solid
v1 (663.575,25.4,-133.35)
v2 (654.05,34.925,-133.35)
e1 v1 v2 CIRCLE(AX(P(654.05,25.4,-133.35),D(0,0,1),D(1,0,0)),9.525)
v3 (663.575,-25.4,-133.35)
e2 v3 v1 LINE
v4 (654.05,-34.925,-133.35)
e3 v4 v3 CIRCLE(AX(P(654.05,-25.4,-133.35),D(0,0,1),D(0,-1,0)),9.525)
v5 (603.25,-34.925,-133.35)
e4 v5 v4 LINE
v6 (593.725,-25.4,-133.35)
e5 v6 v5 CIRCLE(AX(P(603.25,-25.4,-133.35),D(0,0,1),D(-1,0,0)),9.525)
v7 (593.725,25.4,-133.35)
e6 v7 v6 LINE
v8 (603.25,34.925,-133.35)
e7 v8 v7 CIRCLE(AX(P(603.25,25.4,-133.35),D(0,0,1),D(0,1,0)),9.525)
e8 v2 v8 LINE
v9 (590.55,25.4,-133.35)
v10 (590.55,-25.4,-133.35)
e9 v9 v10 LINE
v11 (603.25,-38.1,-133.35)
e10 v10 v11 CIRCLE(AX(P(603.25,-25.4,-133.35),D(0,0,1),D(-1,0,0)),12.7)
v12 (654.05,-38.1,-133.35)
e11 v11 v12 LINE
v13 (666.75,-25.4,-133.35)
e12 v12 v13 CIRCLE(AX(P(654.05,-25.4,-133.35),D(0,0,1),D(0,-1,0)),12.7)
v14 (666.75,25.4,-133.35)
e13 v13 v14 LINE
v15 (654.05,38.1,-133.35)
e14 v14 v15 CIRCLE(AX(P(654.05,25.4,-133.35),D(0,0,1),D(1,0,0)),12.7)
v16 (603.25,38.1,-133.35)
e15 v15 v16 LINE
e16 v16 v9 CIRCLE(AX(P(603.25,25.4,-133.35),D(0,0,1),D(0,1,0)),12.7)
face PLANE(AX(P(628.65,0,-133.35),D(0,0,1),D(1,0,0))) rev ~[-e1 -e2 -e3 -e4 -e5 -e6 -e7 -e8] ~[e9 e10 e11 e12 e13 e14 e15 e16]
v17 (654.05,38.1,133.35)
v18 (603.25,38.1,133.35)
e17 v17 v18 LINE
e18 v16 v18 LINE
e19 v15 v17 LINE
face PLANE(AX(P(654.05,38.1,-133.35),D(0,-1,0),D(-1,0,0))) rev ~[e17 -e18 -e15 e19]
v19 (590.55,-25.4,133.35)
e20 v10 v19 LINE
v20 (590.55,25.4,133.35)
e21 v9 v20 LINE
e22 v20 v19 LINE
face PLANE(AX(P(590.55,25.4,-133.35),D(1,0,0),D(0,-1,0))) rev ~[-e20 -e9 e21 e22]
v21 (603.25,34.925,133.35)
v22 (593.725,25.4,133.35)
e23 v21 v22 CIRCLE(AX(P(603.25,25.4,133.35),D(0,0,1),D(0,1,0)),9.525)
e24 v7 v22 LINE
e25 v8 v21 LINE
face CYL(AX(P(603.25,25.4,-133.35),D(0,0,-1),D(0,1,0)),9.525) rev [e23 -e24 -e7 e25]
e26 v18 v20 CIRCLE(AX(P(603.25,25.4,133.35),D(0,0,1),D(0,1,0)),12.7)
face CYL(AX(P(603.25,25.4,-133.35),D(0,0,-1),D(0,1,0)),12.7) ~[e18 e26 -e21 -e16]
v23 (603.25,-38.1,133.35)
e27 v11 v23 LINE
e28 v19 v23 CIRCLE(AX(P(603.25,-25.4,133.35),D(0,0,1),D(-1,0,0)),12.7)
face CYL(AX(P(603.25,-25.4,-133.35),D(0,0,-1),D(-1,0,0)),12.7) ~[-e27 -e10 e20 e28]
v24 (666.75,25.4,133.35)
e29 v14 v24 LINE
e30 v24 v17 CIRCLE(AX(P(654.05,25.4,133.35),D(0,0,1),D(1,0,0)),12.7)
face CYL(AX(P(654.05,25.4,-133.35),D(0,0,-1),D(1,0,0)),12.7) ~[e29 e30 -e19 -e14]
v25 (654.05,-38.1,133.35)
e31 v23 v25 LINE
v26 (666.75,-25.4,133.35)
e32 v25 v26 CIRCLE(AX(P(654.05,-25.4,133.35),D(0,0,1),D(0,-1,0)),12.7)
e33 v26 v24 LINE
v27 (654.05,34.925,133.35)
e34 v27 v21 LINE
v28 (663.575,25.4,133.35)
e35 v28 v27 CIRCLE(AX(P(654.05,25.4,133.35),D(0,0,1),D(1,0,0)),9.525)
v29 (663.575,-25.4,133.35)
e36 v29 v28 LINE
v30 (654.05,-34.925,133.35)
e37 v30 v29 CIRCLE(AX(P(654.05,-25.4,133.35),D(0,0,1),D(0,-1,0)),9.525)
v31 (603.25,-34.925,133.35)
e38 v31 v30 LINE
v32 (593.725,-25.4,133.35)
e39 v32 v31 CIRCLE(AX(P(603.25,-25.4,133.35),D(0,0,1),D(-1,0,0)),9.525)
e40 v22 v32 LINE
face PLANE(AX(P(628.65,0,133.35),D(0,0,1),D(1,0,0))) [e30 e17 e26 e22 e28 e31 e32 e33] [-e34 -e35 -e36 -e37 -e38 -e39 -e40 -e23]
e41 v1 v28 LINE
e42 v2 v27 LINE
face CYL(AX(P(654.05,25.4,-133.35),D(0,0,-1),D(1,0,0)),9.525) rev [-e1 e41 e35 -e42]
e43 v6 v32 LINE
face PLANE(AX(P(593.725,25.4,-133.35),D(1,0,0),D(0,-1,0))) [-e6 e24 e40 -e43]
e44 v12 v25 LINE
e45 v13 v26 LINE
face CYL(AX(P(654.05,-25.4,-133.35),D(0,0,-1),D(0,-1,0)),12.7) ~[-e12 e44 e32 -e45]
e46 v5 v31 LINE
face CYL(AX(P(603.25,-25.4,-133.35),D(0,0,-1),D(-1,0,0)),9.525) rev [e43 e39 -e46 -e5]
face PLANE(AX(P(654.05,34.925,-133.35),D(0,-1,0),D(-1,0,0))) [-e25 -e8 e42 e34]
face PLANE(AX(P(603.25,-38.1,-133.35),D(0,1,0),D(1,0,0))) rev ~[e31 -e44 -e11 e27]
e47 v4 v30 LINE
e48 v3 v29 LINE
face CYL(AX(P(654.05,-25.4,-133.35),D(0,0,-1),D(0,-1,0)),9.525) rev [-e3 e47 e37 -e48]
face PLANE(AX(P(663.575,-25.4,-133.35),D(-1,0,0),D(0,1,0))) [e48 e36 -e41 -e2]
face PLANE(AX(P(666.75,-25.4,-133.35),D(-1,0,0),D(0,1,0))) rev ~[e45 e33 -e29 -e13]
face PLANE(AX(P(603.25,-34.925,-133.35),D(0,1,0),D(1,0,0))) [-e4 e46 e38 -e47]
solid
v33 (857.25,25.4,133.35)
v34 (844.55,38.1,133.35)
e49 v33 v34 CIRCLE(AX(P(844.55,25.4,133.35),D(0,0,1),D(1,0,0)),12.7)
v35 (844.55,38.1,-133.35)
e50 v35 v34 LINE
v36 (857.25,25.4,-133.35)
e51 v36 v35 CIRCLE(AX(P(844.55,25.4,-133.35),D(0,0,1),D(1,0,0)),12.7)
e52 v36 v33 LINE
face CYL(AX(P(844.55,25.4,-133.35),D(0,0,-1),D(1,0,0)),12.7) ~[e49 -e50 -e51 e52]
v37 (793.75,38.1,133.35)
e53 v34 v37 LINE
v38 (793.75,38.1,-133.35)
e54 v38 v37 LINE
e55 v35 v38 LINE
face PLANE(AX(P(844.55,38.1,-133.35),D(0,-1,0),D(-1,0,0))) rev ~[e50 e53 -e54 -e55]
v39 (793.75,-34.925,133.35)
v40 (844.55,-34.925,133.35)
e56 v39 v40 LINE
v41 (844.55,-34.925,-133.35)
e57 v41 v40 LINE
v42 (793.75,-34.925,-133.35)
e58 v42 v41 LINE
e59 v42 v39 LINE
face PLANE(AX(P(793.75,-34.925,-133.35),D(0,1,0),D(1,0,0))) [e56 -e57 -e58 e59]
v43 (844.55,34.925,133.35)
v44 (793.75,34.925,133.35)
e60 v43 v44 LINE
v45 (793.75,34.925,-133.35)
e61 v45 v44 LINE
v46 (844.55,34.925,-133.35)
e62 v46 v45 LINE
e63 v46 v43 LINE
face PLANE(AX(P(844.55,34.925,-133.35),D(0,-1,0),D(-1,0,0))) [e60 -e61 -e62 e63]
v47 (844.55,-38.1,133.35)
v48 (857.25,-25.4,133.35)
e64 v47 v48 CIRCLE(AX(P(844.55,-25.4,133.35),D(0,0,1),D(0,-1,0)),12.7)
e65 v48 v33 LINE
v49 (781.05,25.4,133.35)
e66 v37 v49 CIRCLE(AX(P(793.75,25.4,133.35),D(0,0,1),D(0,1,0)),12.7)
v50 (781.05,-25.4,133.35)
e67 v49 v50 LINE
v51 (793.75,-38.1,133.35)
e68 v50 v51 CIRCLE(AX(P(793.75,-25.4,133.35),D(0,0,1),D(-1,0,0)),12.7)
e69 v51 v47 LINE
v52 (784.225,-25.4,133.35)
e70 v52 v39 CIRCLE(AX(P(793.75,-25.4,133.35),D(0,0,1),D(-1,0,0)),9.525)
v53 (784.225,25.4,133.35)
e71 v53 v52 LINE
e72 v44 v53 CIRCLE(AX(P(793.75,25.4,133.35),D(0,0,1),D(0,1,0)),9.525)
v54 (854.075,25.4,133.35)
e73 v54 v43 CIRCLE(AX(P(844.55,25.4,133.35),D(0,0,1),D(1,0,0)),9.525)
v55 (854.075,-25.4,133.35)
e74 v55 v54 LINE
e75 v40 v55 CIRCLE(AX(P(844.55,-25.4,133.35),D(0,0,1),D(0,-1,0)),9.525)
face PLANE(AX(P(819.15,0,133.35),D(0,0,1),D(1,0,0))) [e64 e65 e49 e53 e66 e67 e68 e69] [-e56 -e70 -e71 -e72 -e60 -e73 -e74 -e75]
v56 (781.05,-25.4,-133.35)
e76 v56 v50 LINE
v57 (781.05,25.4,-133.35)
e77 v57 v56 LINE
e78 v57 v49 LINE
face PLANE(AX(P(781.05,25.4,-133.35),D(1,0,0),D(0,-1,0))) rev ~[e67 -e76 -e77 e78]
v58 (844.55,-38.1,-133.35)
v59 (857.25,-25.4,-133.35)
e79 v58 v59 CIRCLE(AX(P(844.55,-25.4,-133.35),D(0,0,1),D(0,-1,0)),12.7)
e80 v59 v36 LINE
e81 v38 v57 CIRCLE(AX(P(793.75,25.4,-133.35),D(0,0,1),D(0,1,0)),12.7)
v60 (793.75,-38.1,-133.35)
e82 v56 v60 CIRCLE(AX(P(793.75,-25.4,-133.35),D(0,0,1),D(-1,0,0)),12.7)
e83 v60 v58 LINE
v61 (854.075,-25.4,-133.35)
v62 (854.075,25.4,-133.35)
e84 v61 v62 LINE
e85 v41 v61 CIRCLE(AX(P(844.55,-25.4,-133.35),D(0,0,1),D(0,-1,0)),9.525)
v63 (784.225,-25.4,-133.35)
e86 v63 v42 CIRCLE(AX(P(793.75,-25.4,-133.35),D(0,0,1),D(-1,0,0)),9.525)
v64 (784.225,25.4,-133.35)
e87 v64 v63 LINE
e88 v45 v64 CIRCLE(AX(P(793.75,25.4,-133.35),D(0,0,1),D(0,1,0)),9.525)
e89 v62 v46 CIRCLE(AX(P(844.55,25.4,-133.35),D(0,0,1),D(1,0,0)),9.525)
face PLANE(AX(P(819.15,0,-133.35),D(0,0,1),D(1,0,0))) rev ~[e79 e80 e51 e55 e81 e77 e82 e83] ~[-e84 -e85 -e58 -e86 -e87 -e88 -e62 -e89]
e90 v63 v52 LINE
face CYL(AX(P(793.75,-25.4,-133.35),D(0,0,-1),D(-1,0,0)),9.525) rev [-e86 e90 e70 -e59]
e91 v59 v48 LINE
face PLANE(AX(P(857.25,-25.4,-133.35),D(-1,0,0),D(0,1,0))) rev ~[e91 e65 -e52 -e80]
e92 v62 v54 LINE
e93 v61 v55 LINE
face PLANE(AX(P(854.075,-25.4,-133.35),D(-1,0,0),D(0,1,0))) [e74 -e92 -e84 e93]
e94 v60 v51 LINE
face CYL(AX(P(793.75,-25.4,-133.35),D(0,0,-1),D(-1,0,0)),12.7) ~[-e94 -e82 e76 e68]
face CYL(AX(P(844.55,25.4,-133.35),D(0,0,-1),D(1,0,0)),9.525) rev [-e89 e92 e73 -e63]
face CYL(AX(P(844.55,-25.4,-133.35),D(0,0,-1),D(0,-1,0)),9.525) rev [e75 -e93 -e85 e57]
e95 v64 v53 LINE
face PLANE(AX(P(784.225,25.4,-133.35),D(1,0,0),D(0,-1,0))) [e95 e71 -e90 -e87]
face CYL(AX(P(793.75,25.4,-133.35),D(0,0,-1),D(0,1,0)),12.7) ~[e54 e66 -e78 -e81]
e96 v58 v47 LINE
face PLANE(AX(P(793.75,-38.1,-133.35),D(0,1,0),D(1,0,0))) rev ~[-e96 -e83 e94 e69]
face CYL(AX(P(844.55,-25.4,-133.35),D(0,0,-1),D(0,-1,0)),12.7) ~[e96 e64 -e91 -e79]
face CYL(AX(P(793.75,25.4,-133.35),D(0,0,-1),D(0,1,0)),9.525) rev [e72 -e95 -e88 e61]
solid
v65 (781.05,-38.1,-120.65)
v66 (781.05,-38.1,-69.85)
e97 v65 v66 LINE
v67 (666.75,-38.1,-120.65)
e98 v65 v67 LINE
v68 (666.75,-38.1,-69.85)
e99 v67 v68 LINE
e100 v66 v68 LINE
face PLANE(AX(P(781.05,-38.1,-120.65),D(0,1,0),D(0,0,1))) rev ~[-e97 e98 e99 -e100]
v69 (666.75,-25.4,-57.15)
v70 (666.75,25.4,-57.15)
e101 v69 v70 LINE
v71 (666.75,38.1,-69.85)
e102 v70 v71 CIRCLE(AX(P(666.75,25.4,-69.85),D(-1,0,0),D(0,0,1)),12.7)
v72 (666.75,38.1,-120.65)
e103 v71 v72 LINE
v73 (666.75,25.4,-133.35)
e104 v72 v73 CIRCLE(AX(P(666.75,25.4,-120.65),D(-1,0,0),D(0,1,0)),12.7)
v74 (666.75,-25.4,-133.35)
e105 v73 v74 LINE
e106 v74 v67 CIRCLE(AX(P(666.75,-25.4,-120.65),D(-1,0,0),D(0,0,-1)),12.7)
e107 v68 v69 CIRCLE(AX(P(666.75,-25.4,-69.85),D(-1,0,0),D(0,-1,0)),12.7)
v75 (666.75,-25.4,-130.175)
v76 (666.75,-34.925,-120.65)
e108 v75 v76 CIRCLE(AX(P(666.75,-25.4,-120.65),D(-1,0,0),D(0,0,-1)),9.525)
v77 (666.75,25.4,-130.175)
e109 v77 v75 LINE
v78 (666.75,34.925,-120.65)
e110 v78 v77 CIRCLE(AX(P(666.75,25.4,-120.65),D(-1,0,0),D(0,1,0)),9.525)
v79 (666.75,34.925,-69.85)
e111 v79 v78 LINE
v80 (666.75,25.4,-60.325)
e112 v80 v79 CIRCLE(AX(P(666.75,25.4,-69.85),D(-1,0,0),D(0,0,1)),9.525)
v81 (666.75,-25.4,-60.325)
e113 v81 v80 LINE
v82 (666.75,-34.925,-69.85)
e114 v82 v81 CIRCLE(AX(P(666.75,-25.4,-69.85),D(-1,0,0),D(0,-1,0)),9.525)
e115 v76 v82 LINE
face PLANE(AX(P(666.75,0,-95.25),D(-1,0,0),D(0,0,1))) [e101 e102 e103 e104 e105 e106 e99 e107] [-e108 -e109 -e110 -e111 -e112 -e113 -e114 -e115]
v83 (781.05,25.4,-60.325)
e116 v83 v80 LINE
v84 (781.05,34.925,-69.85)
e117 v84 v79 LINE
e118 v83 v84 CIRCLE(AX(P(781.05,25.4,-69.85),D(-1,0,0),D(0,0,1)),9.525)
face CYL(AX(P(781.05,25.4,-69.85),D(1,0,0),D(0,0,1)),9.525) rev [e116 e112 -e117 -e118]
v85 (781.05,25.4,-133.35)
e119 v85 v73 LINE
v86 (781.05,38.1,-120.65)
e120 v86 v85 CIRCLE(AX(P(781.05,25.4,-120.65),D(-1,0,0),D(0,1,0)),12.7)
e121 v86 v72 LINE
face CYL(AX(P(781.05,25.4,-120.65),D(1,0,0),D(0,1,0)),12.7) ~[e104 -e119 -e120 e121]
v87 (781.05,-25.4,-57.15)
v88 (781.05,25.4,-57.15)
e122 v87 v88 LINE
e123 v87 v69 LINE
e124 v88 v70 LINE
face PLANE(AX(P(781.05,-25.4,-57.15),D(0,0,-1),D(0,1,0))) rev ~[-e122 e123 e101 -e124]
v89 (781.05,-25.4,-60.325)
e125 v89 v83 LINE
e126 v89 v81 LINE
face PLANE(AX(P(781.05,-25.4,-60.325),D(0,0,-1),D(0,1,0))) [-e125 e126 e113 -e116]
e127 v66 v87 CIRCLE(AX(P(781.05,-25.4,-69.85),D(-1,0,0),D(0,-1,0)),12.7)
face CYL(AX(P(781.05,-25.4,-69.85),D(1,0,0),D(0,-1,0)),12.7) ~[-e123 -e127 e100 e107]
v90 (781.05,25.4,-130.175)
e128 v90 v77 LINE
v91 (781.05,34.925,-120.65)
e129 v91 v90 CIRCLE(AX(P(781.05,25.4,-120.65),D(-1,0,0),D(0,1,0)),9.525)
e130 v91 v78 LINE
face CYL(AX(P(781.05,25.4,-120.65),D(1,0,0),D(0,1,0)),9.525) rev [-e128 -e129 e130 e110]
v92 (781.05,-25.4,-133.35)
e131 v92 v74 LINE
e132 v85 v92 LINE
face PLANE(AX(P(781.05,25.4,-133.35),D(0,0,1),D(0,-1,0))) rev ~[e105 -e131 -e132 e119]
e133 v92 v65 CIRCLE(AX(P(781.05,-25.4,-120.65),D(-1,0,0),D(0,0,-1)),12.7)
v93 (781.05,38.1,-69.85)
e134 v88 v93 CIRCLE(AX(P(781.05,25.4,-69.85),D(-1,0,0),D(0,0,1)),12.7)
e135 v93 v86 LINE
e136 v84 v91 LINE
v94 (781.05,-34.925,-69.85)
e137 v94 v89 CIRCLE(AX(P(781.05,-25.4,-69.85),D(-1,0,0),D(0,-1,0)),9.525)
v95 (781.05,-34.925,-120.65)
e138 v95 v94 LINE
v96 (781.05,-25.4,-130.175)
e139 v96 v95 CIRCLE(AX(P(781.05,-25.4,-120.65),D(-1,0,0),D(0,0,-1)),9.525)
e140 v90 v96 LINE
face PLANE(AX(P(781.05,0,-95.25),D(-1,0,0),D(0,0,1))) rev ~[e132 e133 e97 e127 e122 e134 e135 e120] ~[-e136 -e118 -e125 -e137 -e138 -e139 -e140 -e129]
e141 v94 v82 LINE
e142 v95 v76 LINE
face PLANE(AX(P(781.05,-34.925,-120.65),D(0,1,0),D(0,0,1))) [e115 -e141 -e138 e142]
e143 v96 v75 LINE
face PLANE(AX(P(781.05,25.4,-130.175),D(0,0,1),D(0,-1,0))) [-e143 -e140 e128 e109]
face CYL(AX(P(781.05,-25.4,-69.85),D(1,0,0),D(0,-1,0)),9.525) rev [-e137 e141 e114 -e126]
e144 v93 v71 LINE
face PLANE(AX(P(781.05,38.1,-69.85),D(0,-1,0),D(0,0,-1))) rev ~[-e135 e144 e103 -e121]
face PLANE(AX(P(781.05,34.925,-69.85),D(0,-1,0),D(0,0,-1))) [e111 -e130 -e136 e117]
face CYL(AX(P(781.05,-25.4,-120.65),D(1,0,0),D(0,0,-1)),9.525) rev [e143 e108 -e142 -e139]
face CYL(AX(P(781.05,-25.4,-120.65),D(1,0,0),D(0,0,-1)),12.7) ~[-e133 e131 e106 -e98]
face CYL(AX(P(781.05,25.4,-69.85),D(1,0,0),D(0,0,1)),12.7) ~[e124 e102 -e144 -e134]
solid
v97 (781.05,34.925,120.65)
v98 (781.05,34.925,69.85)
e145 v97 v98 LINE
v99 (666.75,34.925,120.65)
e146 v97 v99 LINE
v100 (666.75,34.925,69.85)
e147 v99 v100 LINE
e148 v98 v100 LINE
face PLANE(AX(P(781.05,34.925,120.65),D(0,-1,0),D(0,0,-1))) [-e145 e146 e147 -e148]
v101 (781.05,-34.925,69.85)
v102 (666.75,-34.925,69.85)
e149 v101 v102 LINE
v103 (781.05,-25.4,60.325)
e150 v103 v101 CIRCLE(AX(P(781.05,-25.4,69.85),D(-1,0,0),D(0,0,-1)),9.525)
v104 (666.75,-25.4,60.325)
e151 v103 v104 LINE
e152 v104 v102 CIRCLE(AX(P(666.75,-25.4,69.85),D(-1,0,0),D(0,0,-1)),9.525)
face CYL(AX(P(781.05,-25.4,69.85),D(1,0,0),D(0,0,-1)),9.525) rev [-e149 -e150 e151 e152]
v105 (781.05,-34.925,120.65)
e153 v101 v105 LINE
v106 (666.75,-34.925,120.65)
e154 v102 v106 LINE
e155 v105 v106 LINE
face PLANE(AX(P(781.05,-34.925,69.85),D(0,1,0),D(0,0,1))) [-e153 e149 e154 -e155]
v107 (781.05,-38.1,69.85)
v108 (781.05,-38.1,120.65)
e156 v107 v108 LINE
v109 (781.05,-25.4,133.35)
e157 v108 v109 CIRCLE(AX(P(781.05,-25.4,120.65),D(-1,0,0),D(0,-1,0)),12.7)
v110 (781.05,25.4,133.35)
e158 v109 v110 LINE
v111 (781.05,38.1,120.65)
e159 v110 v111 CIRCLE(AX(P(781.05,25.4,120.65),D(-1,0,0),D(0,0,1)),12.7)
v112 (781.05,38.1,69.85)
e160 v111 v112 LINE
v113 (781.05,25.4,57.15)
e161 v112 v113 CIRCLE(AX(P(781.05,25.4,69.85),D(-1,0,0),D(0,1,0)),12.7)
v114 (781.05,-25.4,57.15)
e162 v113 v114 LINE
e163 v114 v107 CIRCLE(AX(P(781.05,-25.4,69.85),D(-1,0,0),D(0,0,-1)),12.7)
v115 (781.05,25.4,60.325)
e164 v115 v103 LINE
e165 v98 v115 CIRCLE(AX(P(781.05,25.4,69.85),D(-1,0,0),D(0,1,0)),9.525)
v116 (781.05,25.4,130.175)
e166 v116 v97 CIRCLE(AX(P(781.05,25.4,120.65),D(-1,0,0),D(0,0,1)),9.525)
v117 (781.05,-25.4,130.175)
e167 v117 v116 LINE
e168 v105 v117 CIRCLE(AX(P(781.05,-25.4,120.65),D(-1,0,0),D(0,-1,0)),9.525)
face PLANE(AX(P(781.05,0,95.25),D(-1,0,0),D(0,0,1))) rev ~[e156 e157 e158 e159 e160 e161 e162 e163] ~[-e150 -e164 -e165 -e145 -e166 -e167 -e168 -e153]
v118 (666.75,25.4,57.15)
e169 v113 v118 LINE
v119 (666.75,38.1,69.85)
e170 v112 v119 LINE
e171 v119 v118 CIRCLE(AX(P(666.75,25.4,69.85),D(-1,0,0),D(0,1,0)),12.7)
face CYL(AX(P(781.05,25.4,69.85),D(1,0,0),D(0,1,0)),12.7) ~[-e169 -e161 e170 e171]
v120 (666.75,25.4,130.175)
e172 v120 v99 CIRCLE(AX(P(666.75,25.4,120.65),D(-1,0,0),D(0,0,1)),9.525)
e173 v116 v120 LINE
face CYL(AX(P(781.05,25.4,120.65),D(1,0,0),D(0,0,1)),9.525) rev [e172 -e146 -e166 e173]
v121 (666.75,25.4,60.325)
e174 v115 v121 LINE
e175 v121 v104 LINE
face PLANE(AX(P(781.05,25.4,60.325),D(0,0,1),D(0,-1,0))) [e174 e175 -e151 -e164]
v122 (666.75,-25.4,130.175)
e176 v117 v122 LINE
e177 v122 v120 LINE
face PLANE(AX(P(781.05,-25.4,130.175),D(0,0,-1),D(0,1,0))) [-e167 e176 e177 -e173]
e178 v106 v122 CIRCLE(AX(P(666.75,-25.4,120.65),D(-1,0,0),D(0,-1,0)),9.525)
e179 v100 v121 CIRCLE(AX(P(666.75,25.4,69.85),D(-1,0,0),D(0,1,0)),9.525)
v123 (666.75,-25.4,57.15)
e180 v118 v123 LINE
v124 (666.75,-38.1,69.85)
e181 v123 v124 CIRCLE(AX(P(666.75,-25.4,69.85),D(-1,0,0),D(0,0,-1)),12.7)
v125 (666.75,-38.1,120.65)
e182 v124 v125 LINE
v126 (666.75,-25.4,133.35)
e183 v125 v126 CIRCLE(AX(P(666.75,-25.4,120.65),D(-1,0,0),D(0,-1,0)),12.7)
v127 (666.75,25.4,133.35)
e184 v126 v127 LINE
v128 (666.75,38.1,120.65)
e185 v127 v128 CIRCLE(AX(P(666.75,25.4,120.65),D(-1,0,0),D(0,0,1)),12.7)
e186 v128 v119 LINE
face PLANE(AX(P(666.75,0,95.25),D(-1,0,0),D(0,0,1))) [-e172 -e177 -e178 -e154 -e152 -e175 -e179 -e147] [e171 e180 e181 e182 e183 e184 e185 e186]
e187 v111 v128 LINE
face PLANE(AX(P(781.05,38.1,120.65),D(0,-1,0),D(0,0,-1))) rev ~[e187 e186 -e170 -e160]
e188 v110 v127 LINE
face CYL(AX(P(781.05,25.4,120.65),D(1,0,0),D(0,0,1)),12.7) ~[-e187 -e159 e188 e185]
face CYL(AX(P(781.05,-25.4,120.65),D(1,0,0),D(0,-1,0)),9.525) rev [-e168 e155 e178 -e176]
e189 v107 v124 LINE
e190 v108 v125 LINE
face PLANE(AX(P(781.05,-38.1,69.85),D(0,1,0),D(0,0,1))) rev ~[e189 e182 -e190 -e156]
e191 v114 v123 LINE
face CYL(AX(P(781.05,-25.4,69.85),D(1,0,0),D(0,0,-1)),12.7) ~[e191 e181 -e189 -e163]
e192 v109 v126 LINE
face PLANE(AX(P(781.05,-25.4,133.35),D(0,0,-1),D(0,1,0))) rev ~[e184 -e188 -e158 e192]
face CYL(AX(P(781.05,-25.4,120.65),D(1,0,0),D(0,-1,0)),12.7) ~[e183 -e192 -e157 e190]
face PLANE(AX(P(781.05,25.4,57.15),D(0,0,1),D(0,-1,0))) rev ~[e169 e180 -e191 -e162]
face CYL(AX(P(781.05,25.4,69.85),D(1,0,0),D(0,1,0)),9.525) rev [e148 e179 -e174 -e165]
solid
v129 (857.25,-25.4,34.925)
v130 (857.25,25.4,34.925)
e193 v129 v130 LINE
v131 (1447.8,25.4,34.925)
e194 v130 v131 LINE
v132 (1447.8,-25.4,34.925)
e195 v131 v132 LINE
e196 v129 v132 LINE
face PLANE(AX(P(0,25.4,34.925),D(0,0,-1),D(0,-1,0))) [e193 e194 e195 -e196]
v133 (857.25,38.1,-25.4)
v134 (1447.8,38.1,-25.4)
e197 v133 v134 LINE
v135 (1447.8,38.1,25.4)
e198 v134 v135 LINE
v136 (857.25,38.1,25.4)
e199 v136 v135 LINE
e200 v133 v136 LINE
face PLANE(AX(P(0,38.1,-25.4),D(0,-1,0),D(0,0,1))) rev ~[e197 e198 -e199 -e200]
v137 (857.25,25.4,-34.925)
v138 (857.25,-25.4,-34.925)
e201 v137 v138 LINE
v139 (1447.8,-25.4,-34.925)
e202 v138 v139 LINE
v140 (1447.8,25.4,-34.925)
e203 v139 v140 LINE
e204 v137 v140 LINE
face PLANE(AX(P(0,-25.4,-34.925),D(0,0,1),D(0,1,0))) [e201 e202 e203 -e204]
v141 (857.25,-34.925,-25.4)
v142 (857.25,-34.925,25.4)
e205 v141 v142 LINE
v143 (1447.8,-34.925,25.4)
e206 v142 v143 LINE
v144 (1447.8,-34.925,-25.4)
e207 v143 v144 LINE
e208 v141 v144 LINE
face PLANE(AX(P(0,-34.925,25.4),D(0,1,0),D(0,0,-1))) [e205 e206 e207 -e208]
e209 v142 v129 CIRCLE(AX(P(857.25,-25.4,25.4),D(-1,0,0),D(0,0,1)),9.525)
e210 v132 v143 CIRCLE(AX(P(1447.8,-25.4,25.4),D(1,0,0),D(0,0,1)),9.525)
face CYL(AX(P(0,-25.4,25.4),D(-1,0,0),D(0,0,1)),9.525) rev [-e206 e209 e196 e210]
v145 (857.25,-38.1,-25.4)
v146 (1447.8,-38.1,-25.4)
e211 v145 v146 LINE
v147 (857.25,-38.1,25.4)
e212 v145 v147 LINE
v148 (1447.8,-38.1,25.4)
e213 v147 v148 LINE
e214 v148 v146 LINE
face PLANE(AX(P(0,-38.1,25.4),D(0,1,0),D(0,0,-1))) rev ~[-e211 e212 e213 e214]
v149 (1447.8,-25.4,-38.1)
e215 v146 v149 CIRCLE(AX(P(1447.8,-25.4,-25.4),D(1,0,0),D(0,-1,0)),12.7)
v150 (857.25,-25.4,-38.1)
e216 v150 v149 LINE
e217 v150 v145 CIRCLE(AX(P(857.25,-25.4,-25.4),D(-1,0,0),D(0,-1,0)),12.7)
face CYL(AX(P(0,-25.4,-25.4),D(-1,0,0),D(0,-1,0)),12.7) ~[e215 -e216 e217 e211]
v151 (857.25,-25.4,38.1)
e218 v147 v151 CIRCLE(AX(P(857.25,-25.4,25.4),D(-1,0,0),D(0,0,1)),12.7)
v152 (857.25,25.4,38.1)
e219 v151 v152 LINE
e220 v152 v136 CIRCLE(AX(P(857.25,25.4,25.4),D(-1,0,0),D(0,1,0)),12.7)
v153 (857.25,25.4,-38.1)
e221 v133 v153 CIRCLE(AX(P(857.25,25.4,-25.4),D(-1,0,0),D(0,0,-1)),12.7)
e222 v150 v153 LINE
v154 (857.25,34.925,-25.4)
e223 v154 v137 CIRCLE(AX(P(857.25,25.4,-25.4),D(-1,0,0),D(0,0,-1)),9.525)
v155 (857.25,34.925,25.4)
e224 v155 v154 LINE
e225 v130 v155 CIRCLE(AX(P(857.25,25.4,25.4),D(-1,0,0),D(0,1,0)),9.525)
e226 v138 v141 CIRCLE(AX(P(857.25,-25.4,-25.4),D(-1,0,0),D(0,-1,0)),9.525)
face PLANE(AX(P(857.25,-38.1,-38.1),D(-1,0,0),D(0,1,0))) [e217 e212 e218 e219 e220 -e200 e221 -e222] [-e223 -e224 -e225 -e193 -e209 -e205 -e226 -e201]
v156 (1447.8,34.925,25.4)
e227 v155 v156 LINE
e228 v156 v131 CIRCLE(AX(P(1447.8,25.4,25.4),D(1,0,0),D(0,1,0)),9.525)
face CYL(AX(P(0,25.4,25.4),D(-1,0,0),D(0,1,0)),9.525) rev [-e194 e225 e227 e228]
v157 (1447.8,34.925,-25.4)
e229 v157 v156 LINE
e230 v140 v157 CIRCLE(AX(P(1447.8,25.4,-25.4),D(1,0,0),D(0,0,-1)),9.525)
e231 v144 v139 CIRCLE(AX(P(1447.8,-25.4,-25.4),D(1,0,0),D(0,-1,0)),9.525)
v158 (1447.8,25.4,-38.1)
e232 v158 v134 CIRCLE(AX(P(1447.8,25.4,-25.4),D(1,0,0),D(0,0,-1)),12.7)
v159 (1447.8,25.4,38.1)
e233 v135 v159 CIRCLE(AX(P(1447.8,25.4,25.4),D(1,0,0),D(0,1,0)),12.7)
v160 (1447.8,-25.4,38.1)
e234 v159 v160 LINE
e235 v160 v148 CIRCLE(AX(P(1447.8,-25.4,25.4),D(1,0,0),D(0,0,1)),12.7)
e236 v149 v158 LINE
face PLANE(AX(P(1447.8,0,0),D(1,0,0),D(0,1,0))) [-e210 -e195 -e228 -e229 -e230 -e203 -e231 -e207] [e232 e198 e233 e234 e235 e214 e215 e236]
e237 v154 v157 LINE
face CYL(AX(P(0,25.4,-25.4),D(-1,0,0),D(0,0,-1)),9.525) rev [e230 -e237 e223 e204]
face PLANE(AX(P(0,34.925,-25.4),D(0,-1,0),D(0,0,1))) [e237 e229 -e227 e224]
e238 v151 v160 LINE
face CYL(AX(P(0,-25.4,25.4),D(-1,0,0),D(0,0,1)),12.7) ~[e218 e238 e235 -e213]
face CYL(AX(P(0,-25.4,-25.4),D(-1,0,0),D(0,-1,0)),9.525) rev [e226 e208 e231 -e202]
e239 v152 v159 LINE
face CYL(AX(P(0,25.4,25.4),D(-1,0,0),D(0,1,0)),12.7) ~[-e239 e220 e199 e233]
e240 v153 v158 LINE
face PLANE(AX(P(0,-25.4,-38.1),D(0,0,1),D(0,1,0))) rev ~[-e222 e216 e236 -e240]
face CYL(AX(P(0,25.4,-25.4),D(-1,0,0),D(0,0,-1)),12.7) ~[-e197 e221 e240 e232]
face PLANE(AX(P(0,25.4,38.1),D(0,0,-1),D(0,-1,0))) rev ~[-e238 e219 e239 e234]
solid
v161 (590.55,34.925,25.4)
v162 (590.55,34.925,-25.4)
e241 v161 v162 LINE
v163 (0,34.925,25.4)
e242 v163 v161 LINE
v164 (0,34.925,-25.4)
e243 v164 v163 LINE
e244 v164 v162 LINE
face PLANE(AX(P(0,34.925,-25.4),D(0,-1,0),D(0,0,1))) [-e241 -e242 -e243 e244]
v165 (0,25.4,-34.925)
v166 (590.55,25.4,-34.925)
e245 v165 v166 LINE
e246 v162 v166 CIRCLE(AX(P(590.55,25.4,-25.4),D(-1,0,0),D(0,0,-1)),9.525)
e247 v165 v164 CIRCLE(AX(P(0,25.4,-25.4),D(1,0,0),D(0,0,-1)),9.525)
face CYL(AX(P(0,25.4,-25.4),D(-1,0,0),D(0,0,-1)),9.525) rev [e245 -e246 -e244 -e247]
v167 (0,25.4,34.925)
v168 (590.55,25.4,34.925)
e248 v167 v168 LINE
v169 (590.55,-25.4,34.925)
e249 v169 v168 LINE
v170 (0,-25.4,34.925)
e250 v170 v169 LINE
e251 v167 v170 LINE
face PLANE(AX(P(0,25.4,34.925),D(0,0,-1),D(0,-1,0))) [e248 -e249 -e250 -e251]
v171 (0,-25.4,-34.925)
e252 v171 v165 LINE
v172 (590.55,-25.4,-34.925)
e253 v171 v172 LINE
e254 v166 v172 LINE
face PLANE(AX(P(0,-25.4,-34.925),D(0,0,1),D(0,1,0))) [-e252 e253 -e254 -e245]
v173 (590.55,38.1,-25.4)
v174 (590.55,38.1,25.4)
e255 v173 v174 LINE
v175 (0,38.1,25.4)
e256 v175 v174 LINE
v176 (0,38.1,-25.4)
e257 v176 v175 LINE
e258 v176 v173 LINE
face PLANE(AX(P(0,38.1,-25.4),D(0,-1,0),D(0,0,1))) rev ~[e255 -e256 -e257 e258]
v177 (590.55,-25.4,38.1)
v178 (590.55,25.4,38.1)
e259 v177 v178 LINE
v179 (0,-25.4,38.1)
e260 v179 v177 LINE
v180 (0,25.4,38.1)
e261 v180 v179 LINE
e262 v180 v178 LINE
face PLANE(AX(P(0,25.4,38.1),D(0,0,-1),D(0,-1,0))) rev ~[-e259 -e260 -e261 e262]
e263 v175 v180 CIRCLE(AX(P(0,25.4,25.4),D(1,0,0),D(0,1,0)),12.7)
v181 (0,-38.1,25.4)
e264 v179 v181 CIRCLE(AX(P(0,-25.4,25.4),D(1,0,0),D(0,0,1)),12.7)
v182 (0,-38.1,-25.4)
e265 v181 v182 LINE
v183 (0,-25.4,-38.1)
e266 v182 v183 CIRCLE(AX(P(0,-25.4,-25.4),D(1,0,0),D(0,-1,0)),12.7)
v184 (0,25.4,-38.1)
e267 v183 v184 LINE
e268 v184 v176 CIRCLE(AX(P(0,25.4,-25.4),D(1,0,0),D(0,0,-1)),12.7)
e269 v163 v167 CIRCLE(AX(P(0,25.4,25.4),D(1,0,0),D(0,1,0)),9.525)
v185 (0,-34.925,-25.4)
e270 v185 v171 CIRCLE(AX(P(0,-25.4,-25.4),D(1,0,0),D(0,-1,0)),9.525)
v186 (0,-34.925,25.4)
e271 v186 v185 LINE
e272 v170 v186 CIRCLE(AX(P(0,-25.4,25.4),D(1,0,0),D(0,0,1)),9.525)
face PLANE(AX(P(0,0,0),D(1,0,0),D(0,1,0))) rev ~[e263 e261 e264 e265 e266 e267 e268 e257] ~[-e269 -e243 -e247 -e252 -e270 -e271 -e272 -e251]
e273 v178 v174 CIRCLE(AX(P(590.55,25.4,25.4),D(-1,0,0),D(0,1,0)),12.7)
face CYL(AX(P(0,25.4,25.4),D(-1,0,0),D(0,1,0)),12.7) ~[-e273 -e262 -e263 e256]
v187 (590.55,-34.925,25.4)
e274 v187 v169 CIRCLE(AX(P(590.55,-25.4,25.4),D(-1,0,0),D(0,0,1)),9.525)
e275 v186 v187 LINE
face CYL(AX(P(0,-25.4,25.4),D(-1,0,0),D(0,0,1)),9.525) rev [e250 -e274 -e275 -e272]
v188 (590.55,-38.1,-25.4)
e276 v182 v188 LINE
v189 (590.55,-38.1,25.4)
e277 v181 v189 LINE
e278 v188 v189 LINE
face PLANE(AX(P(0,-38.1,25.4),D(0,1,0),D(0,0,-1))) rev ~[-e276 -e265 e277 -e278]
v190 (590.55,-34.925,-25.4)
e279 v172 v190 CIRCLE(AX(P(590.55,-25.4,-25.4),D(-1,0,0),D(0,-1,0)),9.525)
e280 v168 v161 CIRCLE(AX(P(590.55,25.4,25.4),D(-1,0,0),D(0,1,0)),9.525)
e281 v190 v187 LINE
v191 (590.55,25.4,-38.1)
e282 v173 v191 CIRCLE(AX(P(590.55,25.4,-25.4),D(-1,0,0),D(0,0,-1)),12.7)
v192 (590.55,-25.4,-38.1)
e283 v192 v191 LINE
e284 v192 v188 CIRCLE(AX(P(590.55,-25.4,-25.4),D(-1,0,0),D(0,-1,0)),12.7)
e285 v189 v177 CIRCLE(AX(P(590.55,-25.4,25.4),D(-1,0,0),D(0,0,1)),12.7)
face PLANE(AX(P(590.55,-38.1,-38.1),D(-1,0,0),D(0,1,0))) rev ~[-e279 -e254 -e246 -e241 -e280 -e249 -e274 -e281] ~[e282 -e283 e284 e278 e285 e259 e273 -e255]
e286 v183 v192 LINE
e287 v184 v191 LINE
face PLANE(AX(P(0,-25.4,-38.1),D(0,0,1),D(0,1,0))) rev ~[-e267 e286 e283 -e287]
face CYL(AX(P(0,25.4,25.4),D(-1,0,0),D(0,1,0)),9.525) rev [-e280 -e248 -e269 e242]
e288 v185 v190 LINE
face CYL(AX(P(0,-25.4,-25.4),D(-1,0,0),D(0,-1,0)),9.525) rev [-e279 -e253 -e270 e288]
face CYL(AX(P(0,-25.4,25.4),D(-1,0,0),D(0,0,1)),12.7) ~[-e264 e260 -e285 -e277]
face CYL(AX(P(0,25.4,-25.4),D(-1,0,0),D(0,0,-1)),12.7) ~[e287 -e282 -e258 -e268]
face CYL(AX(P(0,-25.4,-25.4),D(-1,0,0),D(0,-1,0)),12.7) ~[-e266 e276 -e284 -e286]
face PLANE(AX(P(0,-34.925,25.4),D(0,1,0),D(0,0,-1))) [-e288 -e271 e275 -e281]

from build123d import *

# Parameters (mm, degrees)
STRUCTURAL_MEMBER1_DEPTH   = 1447.8
SKETCH12_W                 = 266.7
SKETCH12_H                 = 76.2
CUT_EXTRUDE1_DEPTH         = 1451.304412873
STRUCTURAL_MEMBER2_DEPTH   = 266.7
STRUCTURAL_MEMBER2_2_DEPTH = 266.7
STRUCTURAL_MEMBER3_DEPTH   = 114.3
STRUCTURAL_MEMBER3_2_DEPTH = 114.3


with BuildPart() as part:
    # Sketch11 → Structural Member1 (new body)
    with BuildSketch(Plane.YZ):
        with BuildLine():
            Line((-25.4, -38.1), (25.4, -38.1))
            ThreePointArc((25.4, -38.1), (34.380256121, -34.380256121), (38.1, -25.4))
            Line((38.1, -25.4), (38.1, 25.4))
            ThreePointArc((38.1, 25.4), (34.380256121, 34.380256121), (25.4, 38.1))
            Line((25.4, 38.1), (-25.4, 38.1))
            ThreePointArc((-25.4, 38.1), (-34.380256121, 34.380256121), (-38.1, 25.4))
            Line((-38.1, 25.4), (-38.1, -25.4))
            ThreePointArc((-38.1, -25.4), (-34.380256121, -34.380256121), (-25.4, -38.1))
        make_face()
        with BuildLine():
            Line((-25.4, -34.925), (25.4, -34.925))
            ThreePointArc((25.4, -34.925), (32.135192091, -32.135192091), (34.925, -25.4))
            Line((34.925, -25.4), (34.925, 25.4))
            ThreePointArc((34.925, 25.4), (32.135192091, 32.135192091), (25.4, 34.925))
            Line((25.4, 34.925), (-25.4, 34.925))
            ThreePointArc((-25.4, 34.925), (-32.135192091, 32.135192091), (-34.925, 25.4))
            Line((-34.925, 25.4), (-34.925, -25.4))
            ThreePointArc((-34.925, -25.4), (-32.135192091, -32.135192091), (-25.4, -34.925))
        make_face(mode=Mode.SUBTRACT)
    extrude(amount=STRUCTURAL_MEMBER1_DEPTH)

    # Sketch12 → Cut-Extrude1 (cut, through all)
    with BuildSketch(Plane(origin=(0, 0, -38.1), x_dir=(-1, 0, 0), z_dir=(0, 0, -1))):
        with Locations((-723.9, 0)):
            Rectangle(SKETCH12_W, SKETCH12_H)
    extrude(amount=-CUT_EXTRUDE1_DEPTH, mode=Mode.SUBTRACT)


with BuildPart() as cut_extrude1_piece_1:
    # of the separate pieces the step leaves, piece 1, a body of its own (cut_extrude1_pieces)
    add(part.part.solids().sort_by_distance((857.25, -25.4, -38.1))[0])


with BuildPart() as cut_extrude1_piece_2:
    # of the separate pieces the step leaves, piece 2, a body of its own (cut_extrude1_pieces)
    add(part.part.solids().sort_by_distance((0, -25.4, -38.1))[0])


with BuildPart() as body_3:
    # Sketch15 → Structural Member2 (new body)
    with BuildSketch(Plane(origin=(628.65, 0, -133.35), x_dir=(1, 0, 0), z_dir=(0, 0, 1))):
        with BuildLine():
            Line((-25.4, -38.1), (25.4, -38.1))
            ThreePointArc((25.4, -38.1), (34.380256121, -34.380256121), (38.1, -25.4))
            Line((38.1, -25.4), (38.1, 25.4))
            ThreePointArc((38.1, 25.4), (34.380256121, 34.380256121), (25.4, 38.1))
            Line((25.4, 38.1), (-25.4, 38.1))
            ThreePointArc((-25.4, 38.1), (-34.380256121, 34.380256121), (-38.1, 25.4))
            Line((-38.1, 25.4), (-38.1, -25.4))
            ThreePointArc((-38.1, -25.4), (-34.380256121, -34.380256121), (-25.4, -38.1))
        make_face()
        with BuildLine():
            Line((-25.4, -34.925), (25.4, -34.925))
            ThreePointArc((25.4, -34.925), (32.135192091, -32.135192091), (34.925, -25.4))
            Line((34.925, -25.4), (34.925, 25.4))
            ThreePointArc((34.925, 25.4), (32.135192091, 32.135192091), (25.4, 34.925))
            Line((25.4, 34.925), (-25.4, 34.925))
            ThreePointArc((-25.4, 34.925), (-32.135192091, 32.135192091), (-34.925, 25.4))
            Line((-34.925, 25.4), (-34.925, -25.4))
            ThreePointArc((-34.925, -25.4), (-32.135192091, -32.135192091), (-25.4, -34.925))
        make_face(mode=Mode.SUBTRACT)
    extrude(amount=STRUCTURAL_MEMBER2_DEPTH)


with BuildPart() as body_4:
    # Sketch15 on segment 2 (carried to segment 2) → Structural Member2 2 (new body)
    with BuildSketch(Plane(origin=(819.15, 0, -133.35), x_dir=(1, 0, 0), z_dir=(0, 0, 1))):
        with BuildLine():
            Line((-25.4, -38.1), (25.4, -38.1))
            ThreePointArc((25.4, -38.1), (34.380256121, -34.380256121), (38.1, -25.4))
            Line((38.1, -25.4), (38.1, 25.4))
            ThreePointArc((38.1, 25.4), (34.380256121, 34.380256121), (25.4, 38.1))
            Line((25.4, 38.1), (-25.4, 38.1))
            ThreePointArc((-25.4, 38.1), (-34.380256121, 34.380256121), (-38.1, 25.4))
            Line((-38.1, 25.4), (-38.1, -25.4))
            ThreePointArc((-38.1, -25.4), (-34.380256121, -34.380256121), (-25.4, -38.1))
        make_face()
        with BuildLine():
            Line((-25.4, -34.925), (25.4, -34.925))
            ThreePointArc((25.4, -34.925), (32.135192091, -32.135192091), (34.925, -25.4))
            Line((34.925, -25.4), (34.925, 25.4))
            ThreePointArc((34.925, 25.4), (32.135192091, 32.135192091), (25.4, 34.925))
            Line((25.4, 34.925), (-25.4, 34.925))
            ThreePointArc((-25.4, 34.925), (-32.135192091, 32.135192091), (-34.925, 25.4))
            Line((-34.925, 25.4), (-34.925, -25.4))
            ThreePointArc((-34.925, -25.4), (-32.135192091, -32.135192091), (-25.4, -34.925))
        make_face(mode=Mode.SUBTRACT)
    extrude(amount=STRUCTURAL_MEMBER2_2_DEPTH)


with BuildPart() as body_5:
    # Sketch17 → Structural Member3 (new body)
    with BuildSketch(Plane(origin=(781.05, 0, -95.25), x_dir=(0, 0, 1), z_dir=(-1, 0, 0))):
        with BuildLine():
            Line((-25.4, -38.1), (25.4, -38.1))
            ThreePointArc((25.4, -38.1), (34.380256121, -34.380256121), (38.1, -25.4))
            Line((38.1, -25.4), (38.1, 25.4))
            ThreePointArc((38.1, 25.4), (34.380256121, 34.380256121), (25.4, 38.1))
            Line((25.4, 38.1), (-25.4, 38.1))
            ThreePointArc((-25.4, 38.1), (-34.380256121, 34.380256121), (-38.1, 25.4))
            Line((-38.1, 25.4), (-38.1, -25.4))
            ThreePointArc((-38.1, -25.4), (-34.380256121, -34.380256121), (-25.4, -38.1))
        make_face()
        with BuildLine():
            Line((-25.4, -34.925), (25.4, -34.925))
            ThreePointArc((25.4, -34.925), (32.135192091, -32.135192091), (34.925, -25.4))
            Line((34.925, -25.4), (34.925, 25.4))
            ThreePointArc((34.925, 25.4), (32.135192091, 32.135192091), (25.4, 34.925))
            Line((25.4, 34.925), (-25.4, 34.925))
            ThreePointArc((-25.4, 34.925), (-32.135192091, 32.135192091), (-34.925, 25.4))
            Line((-34.925, 25.4), (-34.925, -25.4))
            ThreePointArc((-34.925, -25.4), (-32.135192091, -32.135192091), (-25.4, -34.925))
        make_face(mode=Mode.SUBTRACT)
    extrude(amount=STRUCTURAL_MEMBER3_DEPTH)


with BuildPart() as body_6:
    # Sketch17 on segment 2 (carried to segment 2) → Structural Member3 2 (new body)
    with BuildSketch(Plane(origin=(781.05, 0, 95.25), x_dir=(0, 0, 1), z_dir=(-1, 0, 0))):
        with BuildLine():
            Line((-25.4, -38.1), (25.4, -38.1))
            ThreePointArc((25.4, -38.1), (34.380256121, -34.380256121), (38.1, -25.4))
            Line((38.1, -25.4), (38.1, 25.4))
            ThreePointArc((38.1, 25.4), (34.380256121, 34.380256121), (25.4, 38.1))
            Line((25.4, 38.1), (-25.4, 38.1))
            ThreePointArc((-25.4, 38.1), (-34.380256121, 34.380256121), (-38.1, 25.4))
            Line((-38.1, 25.4), (-38.1, -25.4))
            ThreePointArc((-38.1, -25.4), (-34.380256121, -34.380256121), (-25.4, -38.1))
        make_face()
        with BuildLine():
            Line((-25.4, -34.925), (25.4, -34.925))
            ThreePointArc((25.4, -34.925), (32.135192091, -32.135192091), (34.925, -25.4))
            Line((34.925, -25.4), (34.925, 25.4))
            ThreePointArc((34.925, 25.4), (32.135192091, 32.135192091), (25.4, 34.925))
            Line((25.4, 34.925), (-25.4, 34.925))
            ThreePointArc((-25.4, 34.925), (-32.135192091, 32.135192091), (-34.925, 25.4))
            Line((-34.925, 25.4), (-34.925, -25.4))
            ThreePointArc((-34.925, -25.4), (-32.135192091, -32.135192091), (-25.4, -34.925))
        make_face(mode=Mode.SUBTRACT)
    extrude(amount=STRUCTURAL_MEMBER3_2_DEPTH)


solid = Compound([cut_extrude1_piece_1.part, cut_extrude1_piece_2.part, body_3.part, body_4.part, body_5.part, body_6.part])
